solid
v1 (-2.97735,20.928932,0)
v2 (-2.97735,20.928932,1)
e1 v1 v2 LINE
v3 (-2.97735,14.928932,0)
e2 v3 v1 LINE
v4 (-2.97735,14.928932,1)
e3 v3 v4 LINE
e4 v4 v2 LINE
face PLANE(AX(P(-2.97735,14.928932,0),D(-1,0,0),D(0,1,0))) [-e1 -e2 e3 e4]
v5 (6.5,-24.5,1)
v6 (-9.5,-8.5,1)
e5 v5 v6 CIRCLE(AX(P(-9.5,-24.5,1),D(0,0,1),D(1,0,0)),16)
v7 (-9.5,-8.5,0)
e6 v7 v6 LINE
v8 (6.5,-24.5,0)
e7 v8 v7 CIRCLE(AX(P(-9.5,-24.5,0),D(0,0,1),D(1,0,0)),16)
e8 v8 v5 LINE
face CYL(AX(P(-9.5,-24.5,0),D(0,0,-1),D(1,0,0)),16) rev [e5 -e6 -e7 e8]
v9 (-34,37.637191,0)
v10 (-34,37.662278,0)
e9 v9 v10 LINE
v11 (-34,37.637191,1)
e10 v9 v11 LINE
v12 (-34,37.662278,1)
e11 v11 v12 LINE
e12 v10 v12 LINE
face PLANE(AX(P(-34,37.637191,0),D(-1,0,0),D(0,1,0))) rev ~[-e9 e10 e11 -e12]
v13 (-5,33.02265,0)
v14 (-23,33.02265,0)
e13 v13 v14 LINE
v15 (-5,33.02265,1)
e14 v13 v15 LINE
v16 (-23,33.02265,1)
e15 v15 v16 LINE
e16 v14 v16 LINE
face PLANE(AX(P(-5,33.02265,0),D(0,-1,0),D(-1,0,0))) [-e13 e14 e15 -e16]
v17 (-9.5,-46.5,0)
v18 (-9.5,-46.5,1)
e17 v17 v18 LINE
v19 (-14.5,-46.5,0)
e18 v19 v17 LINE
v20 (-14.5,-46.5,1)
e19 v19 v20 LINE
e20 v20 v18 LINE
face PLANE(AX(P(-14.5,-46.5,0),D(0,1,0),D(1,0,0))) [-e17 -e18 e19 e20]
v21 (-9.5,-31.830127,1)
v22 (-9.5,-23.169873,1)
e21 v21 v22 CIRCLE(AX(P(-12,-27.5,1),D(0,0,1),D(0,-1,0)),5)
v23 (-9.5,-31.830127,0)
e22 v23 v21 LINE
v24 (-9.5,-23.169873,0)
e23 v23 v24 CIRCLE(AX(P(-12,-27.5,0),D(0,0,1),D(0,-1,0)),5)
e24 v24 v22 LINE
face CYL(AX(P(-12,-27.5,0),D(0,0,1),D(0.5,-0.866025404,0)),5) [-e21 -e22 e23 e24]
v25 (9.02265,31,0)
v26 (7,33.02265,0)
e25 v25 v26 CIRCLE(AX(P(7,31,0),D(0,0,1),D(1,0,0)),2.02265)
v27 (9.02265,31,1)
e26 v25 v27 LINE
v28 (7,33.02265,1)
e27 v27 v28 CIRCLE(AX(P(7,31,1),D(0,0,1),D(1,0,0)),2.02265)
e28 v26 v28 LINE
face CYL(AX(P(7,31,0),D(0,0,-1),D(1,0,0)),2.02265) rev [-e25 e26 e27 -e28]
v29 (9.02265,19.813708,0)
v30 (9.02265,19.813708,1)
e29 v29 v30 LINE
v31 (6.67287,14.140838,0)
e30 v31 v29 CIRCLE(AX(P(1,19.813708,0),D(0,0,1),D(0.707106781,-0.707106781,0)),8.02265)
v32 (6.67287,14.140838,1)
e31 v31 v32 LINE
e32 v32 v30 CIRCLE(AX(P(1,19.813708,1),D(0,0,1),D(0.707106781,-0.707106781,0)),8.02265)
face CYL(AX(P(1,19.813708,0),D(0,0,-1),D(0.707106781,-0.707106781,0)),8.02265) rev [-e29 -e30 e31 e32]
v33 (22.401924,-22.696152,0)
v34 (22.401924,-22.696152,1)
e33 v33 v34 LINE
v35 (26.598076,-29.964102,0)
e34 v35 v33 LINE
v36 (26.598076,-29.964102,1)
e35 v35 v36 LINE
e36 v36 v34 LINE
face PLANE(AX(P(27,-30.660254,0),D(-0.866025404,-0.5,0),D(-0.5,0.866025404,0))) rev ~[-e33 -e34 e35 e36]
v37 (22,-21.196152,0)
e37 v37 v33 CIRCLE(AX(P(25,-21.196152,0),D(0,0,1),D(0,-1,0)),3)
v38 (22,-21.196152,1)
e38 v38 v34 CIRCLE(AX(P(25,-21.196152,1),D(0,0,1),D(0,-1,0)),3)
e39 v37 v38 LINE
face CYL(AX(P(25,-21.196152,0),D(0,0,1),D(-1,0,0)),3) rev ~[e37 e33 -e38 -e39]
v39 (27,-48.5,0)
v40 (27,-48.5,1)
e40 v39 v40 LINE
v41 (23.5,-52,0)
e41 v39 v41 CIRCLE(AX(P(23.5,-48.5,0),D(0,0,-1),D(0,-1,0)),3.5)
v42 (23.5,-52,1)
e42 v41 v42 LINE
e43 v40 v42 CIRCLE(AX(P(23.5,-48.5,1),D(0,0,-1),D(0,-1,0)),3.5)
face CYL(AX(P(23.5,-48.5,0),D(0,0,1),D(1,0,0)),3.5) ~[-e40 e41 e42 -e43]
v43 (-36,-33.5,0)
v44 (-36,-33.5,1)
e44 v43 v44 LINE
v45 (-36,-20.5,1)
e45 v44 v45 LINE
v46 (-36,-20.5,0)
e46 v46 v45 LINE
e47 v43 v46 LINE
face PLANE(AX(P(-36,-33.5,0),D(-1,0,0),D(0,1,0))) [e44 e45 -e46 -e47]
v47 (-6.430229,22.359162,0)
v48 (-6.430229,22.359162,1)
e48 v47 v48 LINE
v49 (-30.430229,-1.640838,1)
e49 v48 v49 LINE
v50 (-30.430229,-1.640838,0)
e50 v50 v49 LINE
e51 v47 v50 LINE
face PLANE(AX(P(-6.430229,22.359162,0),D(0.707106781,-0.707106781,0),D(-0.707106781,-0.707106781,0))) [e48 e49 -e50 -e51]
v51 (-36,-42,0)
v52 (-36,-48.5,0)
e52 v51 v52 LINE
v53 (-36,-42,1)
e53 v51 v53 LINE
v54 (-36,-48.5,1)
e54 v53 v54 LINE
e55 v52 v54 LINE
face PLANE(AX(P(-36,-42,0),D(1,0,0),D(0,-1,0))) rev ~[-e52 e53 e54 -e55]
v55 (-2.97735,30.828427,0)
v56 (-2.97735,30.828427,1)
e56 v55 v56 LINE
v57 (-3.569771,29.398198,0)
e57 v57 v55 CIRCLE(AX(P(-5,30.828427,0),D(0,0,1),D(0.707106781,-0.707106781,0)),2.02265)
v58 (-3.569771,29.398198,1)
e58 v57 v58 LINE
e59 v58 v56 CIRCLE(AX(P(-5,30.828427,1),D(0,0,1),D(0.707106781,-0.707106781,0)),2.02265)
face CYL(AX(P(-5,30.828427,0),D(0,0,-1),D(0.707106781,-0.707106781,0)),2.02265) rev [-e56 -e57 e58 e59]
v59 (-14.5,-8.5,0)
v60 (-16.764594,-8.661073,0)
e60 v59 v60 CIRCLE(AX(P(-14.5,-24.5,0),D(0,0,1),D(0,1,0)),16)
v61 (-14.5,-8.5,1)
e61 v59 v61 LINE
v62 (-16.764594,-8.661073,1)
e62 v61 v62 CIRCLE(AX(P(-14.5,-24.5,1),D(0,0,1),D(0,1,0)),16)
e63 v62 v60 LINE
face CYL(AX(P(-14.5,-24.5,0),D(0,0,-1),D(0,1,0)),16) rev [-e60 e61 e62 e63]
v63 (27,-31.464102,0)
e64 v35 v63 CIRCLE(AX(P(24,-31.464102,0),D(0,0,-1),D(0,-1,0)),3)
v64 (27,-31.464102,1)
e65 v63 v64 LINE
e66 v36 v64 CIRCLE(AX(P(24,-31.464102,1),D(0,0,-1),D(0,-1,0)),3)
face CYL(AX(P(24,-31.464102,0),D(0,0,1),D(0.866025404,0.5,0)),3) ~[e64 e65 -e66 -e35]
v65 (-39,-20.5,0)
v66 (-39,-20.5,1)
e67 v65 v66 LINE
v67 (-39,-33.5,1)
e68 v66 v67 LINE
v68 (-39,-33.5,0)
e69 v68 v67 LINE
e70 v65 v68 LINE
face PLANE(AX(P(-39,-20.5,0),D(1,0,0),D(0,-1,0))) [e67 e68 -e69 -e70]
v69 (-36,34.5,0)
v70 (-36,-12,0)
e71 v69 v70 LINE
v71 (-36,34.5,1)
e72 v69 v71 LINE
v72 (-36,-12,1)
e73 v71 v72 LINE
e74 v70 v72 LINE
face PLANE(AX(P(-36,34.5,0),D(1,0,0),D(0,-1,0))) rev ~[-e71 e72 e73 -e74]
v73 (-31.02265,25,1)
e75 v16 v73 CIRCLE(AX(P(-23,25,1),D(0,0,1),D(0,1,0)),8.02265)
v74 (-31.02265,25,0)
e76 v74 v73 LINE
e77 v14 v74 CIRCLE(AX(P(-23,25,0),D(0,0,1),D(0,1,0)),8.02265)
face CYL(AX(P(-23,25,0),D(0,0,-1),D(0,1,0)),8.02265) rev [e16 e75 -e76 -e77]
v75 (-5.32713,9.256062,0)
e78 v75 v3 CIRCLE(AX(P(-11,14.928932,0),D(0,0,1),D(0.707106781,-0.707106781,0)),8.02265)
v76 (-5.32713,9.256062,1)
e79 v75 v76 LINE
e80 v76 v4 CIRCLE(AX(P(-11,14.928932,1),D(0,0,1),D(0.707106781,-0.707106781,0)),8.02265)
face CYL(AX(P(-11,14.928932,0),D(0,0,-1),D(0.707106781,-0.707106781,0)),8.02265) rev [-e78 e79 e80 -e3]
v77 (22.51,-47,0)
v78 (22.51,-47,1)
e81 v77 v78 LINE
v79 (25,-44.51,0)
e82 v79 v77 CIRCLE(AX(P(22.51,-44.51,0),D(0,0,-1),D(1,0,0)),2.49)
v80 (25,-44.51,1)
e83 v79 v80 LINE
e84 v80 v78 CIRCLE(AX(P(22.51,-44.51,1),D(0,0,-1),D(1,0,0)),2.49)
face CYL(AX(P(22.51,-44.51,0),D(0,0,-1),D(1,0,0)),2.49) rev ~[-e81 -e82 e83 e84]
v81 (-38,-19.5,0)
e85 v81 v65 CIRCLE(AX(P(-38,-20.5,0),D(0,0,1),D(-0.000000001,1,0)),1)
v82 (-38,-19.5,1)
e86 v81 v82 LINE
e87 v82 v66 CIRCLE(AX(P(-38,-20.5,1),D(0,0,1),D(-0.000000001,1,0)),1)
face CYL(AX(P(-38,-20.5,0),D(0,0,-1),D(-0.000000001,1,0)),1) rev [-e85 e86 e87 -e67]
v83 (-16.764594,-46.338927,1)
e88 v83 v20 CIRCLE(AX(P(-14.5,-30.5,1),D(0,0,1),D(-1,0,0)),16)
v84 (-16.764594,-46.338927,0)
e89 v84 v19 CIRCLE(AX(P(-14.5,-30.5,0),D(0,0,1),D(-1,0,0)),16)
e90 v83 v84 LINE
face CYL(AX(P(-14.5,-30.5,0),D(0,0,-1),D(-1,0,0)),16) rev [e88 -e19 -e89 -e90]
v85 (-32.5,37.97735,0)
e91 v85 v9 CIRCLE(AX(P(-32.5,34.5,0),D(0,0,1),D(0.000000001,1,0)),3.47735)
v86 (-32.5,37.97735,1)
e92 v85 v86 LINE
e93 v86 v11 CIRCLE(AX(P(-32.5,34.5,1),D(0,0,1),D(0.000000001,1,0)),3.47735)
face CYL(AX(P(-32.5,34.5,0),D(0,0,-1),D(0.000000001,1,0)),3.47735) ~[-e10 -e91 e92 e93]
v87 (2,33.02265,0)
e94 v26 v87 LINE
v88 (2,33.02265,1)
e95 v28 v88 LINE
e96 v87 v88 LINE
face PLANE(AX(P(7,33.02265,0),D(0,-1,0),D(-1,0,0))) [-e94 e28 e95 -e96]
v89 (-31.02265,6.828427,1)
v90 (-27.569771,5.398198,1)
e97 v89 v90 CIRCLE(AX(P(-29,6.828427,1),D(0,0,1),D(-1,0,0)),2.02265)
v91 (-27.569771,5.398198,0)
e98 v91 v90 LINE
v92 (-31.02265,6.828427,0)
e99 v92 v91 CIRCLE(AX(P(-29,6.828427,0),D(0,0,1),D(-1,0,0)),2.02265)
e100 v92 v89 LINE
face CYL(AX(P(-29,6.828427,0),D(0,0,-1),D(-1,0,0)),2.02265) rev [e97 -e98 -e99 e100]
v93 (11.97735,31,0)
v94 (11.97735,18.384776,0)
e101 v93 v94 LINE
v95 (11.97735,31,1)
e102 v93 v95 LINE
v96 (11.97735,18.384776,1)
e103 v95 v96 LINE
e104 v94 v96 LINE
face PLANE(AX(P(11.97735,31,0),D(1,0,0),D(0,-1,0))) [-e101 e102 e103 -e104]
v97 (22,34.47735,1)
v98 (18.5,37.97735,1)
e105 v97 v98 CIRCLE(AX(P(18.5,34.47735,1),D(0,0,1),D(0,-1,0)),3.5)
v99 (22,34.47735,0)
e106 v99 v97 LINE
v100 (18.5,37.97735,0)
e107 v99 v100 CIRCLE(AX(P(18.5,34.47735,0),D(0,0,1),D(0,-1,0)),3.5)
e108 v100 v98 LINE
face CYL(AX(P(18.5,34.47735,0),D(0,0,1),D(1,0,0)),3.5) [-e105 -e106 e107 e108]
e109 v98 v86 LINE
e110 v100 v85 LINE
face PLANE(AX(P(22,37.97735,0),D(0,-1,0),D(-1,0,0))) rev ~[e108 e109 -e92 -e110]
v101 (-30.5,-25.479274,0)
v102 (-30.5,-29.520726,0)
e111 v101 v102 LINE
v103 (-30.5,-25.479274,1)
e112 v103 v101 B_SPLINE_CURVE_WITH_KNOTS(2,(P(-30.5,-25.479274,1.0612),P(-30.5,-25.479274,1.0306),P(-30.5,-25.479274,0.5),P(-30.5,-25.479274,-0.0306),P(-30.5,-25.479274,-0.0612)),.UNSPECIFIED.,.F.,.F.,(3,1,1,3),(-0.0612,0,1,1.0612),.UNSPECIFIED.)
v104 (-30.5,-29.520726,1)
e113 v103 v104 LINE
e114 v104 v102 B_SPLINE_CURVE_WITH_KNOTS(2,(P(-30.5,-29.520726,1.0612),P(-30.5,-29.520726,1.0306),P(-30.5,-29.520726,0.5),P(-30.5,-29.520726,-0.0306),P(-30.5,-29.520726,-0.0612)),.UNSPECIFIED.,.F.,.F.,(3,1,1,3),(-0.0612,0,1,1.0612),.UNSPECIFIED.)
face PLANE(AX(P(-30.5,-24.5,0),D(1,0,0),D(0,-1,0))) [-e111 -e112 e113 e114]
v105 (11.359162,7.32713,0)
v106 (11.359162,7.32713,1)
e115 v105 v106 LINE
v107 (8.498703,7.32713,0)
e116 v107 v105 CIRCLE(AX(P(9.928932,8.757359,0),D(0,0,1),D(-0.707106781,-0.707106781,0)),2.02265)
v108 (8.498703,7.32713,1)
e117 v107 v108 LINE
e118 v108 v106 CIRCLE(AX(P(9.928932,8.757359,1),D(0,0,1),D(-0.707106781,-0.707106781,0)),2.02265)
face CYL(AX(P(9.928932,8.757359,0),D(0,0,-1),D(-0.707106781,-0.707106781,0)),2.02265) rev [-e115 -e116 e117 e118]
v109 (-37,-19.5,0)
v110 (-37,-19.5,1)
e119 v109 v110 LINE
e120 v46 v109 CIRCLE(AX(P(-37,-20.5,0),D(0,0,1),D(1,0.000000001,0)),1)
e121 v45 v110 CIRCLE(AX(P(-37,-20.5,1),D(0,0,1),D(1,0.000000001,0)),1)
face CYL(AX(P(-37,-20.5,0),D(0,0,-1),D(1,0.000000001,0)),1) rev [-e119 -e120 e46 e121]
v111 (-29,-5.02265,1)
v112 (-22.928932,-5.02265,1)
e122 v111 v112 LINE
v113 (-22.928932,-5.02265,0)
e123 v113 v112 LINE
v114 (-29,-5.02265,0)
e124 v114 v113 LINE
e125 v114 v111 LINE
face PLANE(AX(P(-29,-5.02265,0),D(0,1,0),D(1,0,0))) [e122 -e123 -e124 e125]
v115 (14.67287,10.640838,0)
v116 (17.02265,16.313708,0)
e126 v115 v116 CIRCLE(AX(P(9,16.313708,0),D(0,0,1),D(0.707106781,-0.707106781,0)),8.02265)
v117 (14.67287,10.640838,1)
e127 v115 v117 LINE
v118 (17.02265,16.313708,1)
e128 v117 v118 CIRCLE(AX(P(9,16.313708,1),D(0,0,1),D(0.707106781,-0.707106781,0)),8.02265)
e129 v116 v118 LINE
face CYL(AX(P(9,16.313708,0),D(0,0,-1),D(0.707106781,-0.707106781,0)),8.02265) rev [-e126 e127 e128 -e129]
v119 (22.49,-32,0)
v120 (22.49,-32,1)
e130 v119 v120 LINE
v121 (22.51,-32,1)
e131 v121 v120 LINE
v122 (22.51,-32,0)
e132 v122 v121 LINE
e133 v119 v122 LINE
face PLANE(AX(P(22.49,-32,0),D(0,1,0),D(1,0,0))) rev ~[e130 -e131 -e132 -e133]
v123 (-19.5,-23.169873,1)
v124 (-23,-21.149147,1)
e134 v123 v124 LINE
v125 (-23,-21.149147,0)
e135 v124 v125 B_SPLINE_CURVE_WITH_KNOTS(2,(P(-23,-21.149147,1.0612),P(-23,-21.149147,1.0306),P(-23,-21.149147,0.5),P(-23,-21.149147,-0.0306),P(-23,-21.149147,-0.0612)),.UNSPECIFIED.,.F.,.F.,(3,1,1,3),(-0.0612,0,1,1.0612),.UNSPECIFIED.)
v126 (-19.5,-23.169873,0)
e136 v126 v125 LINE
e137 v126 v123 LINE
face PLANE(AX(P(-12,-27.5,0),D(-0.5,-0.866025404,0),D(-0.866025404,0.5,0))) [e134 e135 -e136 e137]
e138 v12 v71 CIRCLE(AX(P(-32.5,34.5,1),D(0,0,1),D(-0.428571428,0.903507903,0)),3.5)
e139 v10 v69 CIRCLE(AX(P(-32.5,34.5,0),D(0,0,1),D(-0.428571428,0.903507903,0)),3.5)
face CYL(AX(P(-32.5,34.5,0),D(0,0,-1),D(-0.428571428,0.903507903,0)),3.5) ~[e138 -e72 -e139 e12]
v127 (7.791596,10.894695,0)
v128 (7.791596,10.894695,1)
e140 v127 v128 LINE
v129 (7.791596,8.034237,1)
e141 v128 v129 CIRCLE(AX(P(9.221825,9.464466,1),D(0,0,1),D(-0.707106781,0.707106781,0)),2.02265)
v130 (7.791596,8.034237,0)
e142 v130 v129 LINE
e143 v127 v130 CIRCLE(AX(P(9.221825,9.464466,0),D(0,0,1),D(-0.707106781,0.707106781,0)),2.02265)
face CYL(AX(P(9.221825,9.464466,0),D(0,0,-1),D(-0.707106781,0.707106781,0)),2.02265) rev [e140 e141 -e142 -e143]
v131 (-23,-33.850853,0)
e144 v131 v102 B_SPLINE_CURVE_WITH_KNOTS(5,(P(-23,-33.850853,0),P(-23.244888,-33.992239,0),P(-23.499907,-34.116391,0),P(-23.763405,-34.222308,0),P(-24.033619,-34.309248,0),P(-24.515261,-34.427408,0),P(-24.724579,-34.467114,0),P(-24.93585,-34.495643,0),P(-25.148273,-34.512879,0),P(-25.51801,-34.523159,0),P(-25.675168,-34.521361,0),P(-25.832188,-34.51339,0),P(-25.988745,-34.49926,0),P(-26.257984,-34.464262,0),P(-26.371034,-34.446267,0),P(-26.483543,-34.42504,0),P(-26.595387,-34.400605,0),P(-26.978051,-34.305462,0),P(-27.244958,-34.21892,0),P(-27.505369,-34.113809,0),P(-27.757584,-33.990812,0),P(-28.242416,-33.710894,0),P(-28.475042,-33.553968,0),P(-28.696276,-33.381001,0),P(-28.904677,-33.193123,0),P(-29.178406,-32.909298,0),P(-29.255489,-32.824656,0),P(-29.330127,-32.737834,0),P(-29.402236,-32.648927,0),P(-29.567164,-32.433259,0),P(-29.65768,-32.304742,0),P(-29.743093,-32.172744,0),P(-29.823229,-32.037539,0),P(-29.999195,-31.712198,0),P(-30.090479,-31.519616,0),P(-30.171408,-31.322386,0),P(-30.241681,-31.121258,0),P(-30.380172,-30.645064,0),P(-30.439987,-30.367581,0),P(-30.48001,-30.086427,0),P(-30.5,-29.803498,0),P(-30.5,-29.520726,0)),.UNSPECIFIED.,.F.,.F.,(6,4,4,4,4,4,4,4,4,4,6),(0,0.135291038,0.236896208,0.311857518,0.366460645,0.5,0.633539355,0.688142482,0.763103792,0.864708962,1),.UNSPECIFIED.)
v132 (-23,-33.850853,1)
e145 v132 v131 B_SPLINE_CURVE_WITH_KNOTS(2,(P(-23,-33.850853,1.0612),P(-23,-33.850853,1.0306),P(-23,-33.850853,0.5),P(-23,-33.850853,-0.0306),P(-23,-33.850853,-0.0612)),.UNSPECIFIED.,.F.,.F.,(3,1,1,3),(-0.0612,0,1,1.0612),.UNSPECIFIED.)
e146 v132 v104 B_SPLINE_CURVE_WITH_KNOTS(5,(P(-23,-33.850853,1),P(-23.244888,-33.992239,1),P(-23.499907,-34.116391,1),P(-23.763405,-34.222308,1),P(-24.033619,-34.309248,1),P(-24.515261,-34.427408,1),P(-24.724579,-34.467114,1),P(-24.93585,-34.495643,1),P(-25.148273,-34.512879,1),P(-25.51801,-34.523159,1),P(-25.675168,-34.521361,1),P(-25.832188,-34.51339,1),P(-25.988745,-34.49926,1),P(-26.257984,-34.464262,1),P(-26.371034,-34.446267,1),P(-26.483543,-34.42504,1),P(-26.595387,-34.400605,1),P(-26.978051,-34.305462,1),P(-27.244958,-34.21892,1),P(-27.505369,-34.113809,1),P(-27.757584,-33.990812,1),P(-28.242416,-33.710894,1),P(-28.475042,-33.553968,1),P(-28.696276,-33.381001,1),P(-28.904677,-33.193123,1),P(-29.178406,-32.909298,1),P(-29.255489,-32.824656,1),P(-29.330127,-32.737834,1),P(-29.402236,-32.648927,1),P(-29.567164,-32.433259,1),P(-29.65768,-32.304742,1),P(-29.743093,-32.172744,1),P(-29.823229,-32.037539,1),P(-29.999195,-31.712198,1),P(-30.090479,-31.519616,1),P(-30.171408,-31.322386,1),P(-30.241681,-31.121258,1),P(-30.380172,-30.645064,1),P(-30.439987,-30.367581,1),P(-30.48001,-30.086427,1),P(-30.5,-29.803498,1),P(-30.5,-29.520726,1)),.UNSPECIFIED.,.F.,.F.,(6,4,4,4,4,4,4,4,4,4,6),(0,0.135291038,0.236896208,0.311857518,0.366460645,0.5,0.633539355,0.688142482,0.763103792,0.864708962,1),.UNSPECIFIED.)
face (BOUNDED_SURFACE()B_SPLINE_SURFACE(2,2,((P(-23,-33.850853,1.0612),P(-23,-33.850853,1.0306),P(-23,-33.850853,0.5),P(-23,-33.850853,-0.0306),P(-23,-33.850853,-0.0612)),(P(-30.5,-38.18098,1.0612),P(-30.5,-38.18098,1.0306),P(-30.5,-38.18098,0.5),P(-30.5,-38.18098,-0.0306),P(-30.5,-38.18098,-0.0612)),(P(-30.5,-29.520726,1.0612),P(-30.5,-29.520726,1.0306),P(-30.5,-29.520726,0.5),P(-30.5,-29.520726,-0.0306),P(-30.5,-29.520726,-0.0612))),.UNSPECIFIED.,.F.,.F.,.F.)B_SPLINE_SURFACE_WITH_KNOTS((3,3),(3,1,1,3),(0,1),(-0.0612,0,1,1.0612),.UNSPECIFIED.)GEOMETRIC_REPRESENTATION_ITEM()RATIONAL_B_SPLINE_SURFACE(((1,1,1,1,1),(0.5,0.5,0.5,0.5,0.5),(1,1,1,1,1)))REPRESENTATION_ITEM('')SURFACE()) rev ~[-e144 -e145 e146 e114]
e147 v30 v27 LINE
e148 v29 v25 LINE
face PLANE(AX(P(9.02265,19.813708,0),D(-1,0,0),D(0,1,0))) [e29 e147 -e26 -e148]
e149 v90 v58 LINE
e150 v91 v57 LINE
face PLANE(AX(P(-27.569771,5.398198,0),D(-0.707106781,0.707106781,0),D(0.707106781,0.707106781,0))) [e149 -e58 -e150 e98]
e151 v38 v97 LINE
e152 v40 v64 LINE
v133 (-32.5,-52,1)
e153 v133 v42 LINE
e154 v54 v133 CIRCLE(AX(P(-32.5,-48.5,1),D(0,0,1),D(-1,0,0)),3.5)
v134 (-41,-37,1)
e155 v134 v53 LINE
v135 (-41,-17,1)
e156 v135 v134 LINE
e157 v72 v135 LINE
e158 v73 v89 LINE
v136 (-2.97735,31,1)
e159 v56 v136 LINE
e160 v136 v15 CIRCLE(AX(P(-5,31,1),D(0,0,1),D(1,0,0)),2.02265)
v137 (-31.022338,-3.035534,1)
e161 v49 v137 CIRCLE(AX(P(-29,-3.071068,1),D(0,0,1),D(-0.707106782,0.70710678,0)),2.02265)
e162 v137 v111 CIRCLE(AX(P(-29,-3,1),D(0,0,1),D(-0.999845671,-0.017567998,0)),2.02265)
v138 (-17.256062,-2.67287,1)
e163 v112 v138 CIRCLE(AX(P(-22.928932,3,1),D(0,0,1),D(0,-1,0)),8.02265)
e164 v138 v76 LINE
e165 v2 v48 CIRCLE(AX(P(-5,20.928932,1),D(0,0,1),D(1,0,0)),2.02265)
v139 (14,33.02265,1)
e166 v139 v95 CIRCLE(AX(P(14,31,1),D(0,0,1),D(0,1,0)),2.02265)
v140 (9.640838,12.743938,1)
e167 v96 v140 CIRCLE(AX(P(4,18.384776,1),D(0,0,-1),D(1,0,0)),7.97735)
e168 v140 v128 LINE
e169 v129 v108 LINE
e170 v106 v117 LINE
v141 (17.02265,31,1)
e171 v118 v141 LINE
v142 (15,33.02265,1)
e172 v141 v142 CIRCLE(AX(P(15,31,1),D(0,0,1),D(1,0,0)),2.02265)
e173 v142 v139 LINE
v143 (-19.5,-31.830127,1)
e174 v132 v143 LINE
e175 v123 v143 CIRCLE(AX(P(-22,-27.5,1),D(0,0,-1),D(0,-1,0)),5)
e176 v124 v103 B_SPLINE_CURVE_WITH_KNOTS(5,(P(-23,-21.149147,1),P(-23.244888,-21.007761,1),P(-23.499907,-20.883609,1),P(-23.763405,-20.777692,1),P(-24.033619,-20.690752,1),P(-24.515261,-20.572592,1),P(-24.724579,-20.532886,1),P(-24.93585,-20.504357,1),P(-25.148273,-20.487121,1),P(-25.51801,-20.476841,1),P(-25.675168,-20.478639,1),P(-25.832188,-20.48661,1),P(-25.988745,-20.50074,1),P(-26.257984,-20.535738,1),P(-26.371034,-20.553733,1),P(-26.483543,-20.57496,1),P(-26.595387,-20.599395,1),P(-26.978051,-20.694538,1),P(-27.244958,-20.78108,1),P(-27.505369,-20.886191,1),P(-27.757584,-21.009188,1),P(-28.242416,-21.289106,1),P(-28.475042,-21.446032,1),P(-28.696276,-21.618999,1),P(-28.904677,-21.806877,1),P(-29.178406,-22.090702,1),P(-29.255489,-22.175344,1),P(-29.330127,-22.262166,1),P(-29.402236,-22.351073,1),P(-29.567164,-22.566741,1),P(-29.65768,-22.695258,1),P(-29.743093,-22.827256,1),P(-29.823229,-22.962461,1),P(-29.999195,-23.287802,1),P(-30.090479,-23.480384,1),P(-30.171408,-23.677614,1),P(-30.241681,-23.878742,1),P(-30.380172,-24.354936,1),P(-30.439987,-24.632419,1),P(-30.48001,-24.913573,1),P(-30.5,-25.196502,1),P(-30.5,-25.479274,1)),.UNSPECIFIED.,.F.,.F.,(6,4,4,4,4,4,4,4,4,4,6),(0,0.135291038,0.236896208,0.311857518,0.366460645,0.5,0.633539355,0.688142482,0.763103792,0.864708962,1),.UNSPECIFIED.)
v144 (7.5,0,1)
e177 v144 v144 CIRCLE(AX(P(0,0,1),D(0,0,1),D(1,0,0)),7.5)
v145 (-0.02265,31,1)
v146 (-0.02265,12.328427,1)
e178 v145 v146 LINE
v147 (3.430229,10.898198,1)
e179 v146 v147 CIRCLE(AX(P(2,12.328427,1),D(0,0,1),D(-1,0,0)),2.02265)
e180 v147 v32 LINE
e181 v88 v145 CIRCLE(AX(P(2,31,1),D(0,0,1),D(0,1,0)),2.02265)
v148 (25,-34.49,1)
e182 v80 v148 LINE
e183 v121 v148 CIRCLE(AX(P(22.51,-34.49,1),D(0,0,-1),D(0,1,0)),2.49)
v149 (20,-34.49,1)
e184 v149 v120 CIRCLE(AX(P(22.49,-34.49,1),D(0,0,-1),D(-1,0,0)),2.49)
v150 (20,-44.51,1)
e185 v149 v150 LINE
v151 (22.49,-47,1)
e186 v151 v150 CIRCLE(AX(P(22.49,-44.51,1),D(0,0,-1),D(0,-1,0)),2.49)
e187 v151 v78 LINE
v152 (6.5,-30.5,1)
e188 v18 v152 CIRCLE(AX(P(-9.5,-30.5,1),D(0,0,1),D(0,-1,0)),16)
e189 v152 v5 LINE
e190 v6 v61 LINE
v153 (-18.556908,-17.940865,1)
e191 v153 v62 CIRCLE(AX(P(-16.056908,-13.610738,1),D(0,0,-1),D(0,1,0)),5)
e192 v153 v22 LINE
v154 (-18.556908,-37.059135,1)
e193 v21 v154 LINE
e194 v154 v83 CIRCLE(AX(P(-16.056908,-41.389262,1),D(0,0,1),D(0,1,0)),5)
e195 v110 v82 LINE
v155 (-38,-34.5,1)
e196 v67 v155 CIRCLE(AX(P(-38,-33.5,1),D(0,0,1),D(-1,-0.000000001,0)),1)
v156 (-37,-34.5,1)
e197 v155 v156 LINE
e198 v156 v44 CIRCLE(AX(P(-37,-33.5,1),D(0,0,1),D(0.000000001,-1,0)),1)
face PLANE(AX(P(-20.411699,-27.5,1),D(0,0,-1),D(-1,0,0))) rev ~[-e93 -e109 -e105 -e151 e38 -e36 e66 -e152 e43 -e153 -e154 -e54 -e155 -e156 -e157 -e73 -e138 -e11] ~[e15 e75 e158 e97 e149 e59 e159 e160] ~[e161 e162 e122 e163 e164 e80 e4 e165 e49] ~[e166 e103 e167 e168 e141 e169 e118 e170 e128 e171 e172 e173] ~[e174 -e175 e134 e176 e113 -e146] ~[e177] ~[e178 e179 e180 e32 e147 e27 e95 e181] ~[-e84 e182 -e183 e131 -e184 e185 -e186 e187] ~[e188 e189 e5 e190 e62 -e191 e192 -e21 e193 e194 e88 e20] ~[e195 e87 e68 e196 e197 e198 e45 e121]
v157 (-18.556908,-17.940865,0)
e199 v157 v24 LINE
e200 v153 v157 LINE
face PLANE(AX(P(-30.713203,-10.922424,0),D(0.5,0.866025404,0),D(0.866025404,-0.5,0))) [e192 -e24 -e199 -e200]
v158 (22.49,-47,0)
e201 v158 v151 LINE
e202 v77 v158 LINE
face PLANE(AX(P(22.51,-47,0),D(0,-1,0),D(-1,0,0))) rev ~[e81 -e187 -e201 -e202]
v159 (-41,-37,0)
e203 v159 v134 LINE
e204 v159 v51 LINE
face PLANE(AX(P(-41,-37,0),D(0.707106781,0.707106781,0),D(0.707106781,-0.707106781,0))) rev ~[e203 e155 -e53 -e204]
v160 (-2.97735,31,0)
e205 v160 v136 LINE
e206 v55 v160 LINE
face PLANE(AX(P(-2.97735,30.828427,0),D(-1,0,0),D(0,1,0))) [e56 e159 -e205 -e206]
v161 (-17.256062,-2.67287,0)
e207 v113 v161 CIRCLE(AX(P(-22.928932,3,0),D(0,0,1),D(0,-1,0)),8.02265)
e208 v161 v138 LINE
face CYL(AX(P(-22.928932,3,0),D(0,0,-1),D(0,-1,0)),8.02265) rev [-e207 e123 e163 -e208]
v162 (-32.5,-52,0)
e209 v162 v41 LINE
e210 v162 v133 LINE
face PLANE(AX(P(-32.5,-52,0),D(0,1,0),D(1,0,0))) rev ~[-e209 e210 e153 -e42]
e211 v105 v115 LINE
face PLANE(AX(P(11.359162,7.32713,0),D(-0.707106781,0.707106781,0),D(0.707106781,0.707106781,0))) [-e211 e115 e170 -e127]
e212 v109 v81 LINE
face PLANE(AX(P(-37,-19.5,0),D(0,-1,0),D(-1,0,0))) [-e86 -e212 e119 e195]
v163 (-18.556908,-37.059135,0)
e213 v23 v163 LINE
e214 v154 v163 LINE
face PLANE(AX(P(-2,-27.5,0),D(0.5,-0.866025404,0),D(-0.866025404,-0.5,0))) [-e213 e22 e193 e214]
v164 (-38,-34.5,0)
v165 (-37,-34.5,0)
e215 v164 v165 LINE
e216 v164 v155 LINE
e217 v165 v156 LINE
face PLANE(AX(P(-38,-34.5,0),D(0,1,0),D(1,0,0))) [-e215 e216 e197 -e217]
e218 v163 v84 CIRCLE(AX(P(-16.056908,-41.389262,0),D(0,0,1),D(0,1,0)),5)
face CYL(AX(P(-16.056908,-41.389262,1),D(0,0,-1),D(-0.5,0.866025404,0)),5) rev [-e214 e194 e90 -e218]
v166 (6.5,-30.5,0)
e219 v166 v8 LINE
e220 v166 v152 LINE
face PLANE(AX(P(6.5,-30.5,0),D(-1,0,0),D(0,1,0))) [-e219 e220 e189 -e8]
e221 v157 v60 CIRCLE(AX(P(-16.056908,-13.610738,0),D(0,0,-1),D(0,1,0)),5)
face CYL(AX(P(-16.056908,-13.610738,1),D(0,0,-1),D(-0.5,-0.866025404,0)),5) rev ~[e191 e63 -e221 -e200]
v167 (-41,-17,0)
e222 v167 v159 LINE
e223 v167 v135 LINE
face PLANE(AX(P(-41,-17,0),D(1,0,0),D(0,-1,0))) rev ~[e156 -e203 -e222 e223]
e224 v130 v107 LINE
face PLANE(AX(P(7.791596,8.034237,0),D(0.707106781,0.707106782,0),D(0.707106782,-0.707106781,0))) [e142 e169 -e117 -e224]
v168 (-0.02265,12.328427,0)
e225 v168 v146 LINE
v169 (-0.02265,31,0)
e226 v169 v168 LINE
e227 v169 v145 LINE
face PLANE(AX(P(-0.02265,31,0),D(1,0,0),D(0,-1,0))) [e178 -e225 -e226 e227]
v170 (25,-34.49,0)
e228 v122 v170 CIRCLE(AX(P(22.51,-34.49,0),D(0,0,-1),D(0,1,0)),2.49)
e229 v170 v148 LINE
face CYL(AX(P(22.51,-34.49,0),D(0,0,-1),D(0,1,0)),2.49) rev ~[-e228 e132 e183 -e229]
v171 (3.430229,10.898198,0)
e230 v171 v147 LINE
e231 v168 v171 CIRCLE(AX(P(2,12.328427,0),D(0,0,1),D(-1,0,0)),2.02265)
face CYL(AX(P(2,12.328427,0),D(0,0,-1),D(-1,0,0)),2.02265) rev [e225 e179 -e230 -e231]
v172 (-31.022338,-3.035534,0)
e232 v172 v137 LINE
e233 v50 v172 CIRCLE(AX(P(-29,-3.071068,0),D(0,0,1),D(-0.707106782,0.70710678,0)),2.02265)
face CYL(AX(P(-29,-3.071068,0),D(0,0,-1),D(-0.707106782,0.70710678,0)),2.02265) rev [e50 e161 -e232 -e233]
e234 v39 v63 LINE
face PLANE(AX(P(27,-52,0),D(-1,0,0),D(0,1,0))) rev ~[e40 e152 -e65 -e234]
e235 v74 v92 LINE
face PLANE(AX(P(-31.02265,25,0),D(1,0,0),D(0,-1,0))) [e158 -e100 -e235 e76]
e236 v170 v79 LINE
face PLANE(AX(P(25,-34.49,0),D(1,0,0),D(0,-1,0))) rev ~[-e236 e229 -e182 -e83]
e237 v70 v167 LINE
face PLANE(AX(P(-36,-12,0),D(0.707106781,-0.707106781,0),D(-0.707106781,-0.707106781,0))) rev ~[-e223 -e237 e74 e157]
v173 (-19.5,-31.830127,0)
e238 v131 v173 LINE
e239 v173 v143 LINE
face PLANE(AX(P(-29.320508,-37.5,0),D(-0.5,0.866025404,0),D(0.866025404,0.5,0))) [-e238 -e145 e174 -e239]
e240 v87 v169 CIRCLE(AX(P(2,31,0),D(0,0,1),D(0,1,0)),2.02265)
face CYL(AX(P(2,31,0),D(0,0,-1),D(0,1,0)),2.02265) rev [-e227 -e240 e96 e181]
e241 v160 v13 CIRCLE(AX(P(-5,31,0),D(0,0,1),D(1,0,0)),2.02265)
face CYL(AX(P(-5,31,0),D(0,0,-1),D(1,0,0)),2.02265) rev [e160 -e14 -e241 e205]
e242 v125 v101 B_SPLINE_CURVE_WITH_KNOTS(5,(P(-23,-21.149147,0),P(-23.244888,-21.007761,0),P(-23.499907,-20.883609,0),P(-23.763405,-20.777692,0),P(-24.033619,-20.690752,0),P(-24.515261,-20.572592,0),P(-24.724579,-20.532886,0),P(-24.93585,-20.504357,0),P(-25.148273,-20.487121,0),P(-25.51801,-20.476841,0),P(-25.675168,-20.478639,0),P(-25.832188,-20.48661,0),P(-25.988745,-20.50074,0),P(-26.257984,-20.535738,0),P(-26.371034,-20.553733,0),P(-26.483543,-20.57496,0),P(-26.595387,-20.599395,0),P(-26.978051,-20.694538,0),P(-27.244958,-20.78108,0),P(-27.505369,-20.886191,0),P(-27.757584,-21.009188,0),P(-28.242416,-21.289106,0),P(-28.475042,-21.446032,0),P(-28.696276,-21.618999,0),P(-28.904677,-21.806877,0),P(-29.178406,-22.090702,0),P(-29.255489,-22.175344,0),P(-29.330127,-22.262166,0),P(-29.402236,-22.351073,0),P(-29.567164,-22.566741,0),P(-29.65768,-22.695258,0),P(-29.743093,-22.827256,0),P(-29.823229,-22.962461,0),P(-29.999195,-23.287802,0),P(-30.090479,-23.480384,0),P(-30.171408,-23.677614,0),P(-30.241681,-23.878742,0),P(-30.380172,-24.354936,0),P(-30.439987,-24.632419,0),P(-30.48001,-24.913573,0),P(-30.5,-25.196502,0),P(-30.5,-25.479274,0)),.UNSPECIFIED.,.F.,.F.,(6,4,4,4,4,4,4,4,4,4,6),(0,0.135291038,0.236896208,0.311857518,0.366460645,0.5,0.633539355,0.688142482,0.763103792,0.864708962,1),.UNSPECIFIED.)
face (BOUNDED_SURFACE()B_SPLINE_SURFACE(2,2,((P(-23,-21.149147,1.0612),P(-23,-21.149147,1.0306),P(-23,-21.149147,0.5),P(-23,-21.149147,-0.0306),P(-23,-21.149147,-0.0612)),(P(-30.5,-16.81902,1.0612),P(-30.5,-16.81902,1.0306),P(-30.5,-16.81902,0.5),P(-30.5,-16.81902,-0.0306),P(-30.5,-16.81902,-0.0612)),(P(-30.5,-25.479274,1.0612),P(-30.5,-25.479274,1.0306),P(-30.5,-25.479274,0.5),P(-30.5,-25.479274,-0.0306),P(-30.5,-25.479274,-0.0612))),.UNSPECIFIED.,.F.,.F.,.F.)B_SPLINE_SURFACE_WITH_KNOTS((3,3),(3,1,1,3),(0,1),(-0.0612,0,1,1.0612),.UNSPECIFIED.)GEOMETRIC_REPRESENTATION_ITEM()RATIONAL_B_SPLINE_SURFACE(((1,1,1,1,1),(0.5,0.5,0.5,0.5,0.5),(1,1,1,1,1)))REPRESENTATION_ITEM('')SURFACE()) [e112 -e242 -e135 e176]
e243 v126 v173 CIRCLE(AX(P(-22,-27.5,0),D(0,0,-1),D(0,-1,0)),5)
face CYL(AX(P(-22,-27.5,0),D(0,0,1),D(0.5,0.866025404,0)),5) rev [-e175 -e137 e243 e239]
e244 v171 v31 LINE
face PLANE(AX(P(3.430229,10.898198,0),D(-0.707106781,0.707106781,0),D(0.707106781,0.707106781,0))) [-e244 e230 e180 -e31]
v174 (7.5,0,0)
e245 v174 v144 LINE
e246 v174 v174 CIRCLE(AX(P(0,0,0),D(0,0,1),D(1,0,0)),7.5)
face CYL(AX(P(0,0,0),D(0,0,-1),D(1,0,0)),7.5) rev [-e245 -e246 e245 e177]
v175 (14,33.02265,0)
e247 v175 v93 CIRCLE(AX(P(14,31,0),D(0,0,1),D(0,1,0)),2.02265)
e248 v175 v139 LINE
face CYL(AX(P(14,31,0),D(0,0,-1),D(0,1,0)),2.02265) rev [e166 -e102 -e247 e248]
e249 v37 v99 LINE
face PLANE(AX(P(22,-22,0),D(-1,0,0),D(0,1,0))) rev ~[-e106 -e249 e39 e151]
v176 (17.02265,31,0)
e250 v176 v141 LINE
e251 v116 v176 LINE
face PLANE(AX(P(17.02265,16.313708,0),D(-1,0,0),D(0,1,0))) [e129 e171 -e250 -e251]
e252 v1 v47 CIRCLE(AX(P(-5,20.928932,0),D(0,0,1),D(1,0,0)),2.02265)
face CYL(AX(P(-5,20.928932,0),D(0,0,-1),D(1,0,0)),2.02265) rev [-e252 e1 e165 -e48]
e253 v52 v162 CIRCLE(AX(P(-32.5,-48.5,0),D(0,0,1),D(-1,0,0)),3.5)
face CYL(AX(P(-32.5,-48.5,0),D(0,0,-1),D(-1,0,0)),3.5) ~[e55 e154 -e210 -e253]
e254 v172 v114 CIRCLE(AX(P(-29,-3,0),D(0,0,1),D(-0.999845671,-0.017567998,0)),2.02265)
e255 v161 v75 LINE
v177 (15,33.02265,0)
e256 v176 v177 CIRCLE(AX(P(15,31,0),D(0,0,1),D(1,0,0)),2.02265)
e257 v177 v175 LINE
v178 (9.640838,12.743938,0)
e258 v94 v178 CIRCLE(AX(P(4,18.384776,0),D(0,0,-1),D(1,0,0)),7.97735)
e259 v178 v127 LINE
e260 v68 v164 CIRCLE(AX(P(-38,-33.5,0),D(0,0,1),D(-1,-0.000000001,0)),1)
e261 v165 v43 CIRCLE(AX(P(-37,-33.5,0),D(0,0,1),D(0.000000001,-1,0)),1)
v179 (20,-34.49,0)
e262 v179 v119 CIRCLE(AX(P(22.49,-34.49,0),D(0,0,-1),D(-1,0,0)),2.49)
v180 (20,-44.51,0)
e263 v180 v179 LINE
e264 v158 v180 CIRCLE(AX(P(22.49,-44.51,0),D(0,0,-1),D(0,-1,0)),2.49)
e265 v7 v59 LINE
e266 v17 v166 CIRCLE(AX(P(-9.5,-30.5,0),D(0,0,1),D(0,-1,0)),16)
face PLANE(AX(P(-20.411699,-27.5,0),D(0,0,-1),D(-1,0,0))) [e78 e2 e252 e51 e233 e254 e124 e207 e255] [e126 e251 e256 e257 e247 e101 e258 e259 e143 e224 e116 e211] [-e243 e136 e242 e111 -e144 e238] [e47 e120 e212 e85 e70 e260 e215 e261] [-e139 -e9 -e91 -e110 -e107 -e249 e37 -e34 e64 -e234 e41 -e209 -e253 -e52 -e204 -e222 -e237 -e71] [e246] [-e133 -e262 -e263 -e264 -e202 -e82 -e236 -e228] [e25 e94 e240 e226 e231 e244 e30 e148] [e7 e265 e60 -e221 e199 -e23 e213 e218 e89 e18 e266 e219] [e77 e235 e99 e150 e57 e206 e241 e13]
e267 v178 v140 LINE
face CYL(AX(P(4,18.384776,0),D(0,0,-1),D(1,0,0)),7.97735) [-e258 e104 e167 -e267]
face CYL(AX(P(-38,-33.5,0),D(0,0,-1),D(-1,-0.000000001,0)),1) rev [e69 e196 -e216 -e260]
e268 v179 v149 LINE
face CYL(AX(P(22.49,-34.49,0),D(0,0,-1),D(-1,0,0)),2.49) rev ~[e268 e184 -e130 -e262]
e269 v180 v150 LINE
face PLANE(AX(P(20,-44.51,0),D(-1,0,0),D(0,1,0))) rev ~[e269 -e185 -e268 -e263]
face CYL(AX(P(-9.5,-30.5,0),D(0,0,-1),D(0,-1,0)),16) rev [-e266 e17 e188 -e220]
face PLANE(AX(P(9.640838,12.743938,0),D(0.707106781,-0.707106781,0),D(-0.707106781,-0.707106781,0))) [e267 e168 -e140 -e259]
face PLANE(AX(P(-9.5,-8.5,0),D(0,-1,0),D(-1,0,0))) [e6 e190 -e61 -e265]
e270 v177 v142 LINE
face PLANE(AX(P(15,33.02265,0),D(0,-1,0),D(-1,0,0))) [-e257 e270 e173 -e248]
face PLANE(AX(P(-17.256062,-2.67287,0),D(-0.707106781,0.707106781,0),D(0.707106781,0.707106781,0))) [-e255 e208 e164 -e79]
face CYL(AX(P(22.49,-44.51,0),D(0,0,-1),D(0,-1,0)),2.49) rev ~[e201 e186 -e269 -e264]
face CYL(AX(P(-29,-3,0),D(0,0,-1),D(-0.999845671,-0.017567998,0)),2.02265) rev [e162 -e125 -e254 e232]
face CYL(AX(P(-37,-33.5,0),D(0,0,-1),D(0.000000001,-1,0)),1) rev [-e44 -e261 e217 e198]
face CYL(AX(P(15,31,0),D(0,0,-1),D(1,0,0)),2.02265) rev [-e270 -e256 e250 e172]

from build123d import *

# Parameters (mm, degrees)
SKETCH_1_R          = 7.5
EXTRUDE_1_DEPTH     = 1
FILLET_1_R          = 3
FILLET_2_R          = 3.5
CUT_EXTRUDE_1_DEPTH = 10
EXTRUDE_2_DEPTH     = 1
FILLET_3_R          = 5


with BuildPart() as part:
    # 草图1 → 凸台-拉伸1 (new body)
    with BuildSketch(Plane.XY):
        with BuildLine():
            Line((-34, 37.637190605), (-34, 37.66227766))
            ThreePointArc((-34, 37.66227766), (-35.458039892, 36.370828693), (-36, 34.5))
            Line((-36, 34.5), (-36, -12))
            Line((-36, -12), (-41, -17))
            Line((-41, -17), (-41, -37))
            Line((-41, -37), (-36, -42))
            Line((-36, -42), (-36, -48.5))
            ThreePointArc((-36, -48.5), (-34.974873734, -50.974873734), (-32.5, -52))
            Line((-32.5, -52), (-3, -52))
            Line((-3, -52), (27, -52))
            Line((27, -52), (27, -30.660254038))
            Line((27, -30.660254038), (22, -22))
            Line((22, -22), (22, -2))
            Line((22, -2), (22, 37.977350269))
            Line((22, 37.977350269), (-32.5, 37.977350269))
            ThreePointArc((-32.5, 37.977350269), (-33.269043009, 37.891244277), (-34, 37.637190605))
        make_face()
        Circle(SKETCH_1_R, mode=Mode.SUBTRACT)
        with BuildLine():
            Line((-38, -34.5), (-37, -34.5))
            ThreePointArc((-37, -34.5), (-36.292893219, -34.207106781), (-36, -33.5))
            Line((-36, -33.5), (-36, -20.5))
            ThreePointArc((-36, -20.5), (-36.292893219, -19.792893219), (-37, -19.5))
            Line((-37, -19.5), (-38, -19.5))
            ThreePointArc((-38, -19.5), (-38.707106781, -19.792893219), (-39, -20.5))
            Line((-39, -20.5), (-39, -33.5))
            ThreePointArc((-39, -33.5), (-38.707106781, -34.207106781), (-38, -34.5))
        make_face(mode=Mode.SUBTRACT)
        with BuildLine():
            Line((-14.5, -46.5), (-9.5, -46.5))
            ThreePointArc((-9.5, -46.5), (1.813708499, -41.813708499), (6.5, -30.5))
            Line((6.5, -30.5), (6.5, -24.5))
            ThreePointArc((6.5, -24.5), (1.813708499, -13.186291501), (-9.5, -8.5))
            Line((-9.5, -8.5), (-14.5, -8.5))
            ThreePointArc((-14.5, -8.5), (-25.813708499, -13.186291501), (-30.5, -24.5))
            Line((-30.5, -24.5), (-30.5, -30.5))
            ThreePointArc((-30.5, -30.5), (-25.813708499, -41.813708499), (-14.5, -46.5))
        make_face(mode=Mode.SUBTRACT)
        with BuildLine():
            Line((11.977350269, 31), (11.977350269, 18.384776311))
            ThreePointArc((11.977350269, 18.384776311), (11.370110637, 15.331976529), (9.640838471, 12.74393784))
            Line((9.640838471, 12.74393784), (7.791596066, 10.894695435))
            ThreePointArc((7.791596066, 10.894695435), (7.199175676, 9.464466094), (7.791596066, 8.034236753))
            Line((7.791596066, 8.034236753), (8.498702848, 7.327129972))
            ThreePointArc((8.498702848, 7.327129972), (9.928932188, 6.734709582), (11.359161529, 7.327129972))
            Line((11.359161529, 7.327129972), (14.672870028, 10.640838471))
            ThreePointArc((14.672870028, 10.640838471), (16.411961883, 13.243573363), (17.022649731, 16.313708499))
            Line((17.022649731, 16.313708499), (17.022649731, 31))
            ThreePointArc((17.022649731, 31), (16.430229341, 32.430229341), (15, 33.022649731))
            Line((15, 33.022649731), (14, 33.022649731))
            ThreePointArc((14, 33.022649731), (12.569770659, 32.430229341), (11.977350269, 31))
        make_face(mode=Mode.SUBTRACT)
        with BuildLine():
            Line((7, 33.022649731), (2, 33.022649731))
            ThreePointArc((2, 33.022649731), (0.569770659, 32.430229341), (-0.022649731, 31))
            Line((-0.022649731, 31), (-0.022649731, 12.328427125))
            ThreePointArc((-0.022649731, 12.328427125), (1.225965459, 10.459742437), (3.430229341, 10.898197784))
            Line((3.430229341, 10.898197784), (6.672870028, 14.140838471))
            ThreePointArc((6.672870028, 14.140838471), (8.411961883, 16.743573363), (9.022649731, 19.813708499))
            Line((9.022649731, 19.813708499), (9.022649731, 31))
            ThreePointArc((9.022649731, 31), (8.430229341, 32.430229341), (7, 33.022649731))
        make_face(mode=Mode.SUBTRACT)
        with BuildLine():
            Line((-6.430229341, 22.359161529), (-30.430229341, -1.640838471))
            ThreePointArc((-30.430229341, -1.640838471), (-30.861813207, -2.280647977), (-31.022337577, -3.035533906))
            ThreePointArc((-31.022337577, -3.035533906), (-30.41761054, -4.442737776), (-29, -5.022649731))
            Line((-29, -5.022649731), (-22.928932188, -5.022649731))
            ThreePointArc((-22.928932188, -5.022649731), (-19.858797052, -4.411961883), (-17.25606216, -2.672870028))
            Line((-17.25606216, -2.672870028), (-5.327129972, 9.25606216))
            ThreePointArc((-5.327129972, 9.25606216), (-3.588038117, 11.858797052), (-2.977350269, 14.928932188))
            Line((-2.977350269, 14.928932188), (-2.977350269, 20.928932188))
            ThreePointArc((-2.977350269, 20.928932188), (-4.225965459, 22.797616876), (-6.430229341, 22.359161529))
        make_face(mode=Mode.SUBTRACT)
        with BuildLine():
            Line((-27.569770659, 5.398197784), (-3.569770659, 29.398197784))
            ThreePointArc((-3.569770659, 29.398197784), (-3.131315312, 30.054392583), (-2.977350269, 30.828427125))
            Line((-2.977350269, 30.828427125), (-2.977350269, 31))
            ThreePointArc((-2.977350269, 31), (-3.569770659, 32.430229341), (-5, 33.022649731))
            Line((-5, 33.022649731), (-23, 33.022649731))
            ThreePointArc((-23, 33.022649731), (-28.672870028, 30.672870028), (-31.022649731, 25))
            Line((-31.022649731, 25), (-31.022649731, 6.828427125))
            ThreePointArc((-31.022649731, 6.828427125), (-29.774034541, 4.959742437), (-27.569770659, 5.398197784))
        make_face(mode=Mode.SUBTRACT)
    extrude(amount=EXTRUDE_1_DEPTH)

    # 圆角1
    fillet_1_edges = [part.edges().sort_by_distance(p)[0] for p in [
        (22, -22, 0.5),
        (27, -30.660254038, 0.5),
    ]]
    fillet(fillet_1_edges, radius=FILLET_1_R)

    # 圆角2
    fillet_2_edges = [part.edges().sort_by_distance(p)[0] for p in [
        (22, 37.977350269, 0.5),
        (27, -52, 0.5),
    ]]
    fillet(fillet_2_edges, radius=FILLET_2_R)

    # 草图2 → 切除-拉伸1 (cut)
    with BuildSketch(Plane(origin=(0, 0, 0), x_dir=(-1, 0, 0), z_dir=(0, 0, -1))):
        with BuildLine():
            Line((-22.51, -47), (-22.49, -47))
            ThreePointArc((-22.49, -47), (-20.729304115, -46.270695885), (-20, -44.51))
            Line((-20, -44.51), (-20, -34.49))
            ThreePointArc((-20, -34.49), (-20.729304115, -32.729304115), (-22.49, -32))
            Line((-22.49, -32), (-22.51, -32))
            ThreePointArc((-22.51, -32), (-24.270695885, -32.729304115), (-25, -34.49))
            Line((-25, -34.49), (-25, -44.51))
            ThreePointArc((-25, -44.51), (-24.270695885, -46.270695885), (-22.51, -47))
        make_face()
    extrude(amount=-CUT_EXTRUDE_1_DEPTH, mode=Mode.SUBTRACT)

    # 草图3 → 凸台-拉伸2 (add)
    with BuildSketch(Plane(origin=(0, 0, 0), x_dir=(-1, 0, 0), z_dir=(0, 0, -1))):
        with BuildLine():
            Line((12, -27.5), (29.320508076, -17.5))
            ThreePointArc((29.320508076, -17.5), (30.076804592, -18.942597605), (30.713203436, -20.441953728))
            Line((30.713203436, -20.441953728), (30.713203436, -10.922424267))
            Line((30.713203436, -10.922424267), (2, -27.5))
            Line((2, -27.5), (30.713203436, -44.077575733))
            Line((30.713203436, -44.077575733), (30.713203436, -34.558046272))
            ThreePointArc((30.713203436, -34.558046272), (30.076804592, -36.057402395), (29.320508076, -37.5))
            Line((29.320508076, -37.5), (12, -27.5))
        make_face()
    extrude(amount=-EXTRUDE_2_DEPTH)

    # 圆角3
    fillet_3_edges = [part.edges().sort_by_distance(p)[0] for p in [
        (-26.164686329, -41.451488157, 0.5),
        (-28.98117459, -37.304085721, 0.5),
        (-28.98117459, -17.695914279, 0.5),
        (-26.164686329, -13.548511843, 0.5),
        (-12, -27.5, 0.5),
        (-2, -27.5, 0.5),
    ]]
    fillet(fillet_3_edges, radius=FILLET_3_R)


solid = part.part
